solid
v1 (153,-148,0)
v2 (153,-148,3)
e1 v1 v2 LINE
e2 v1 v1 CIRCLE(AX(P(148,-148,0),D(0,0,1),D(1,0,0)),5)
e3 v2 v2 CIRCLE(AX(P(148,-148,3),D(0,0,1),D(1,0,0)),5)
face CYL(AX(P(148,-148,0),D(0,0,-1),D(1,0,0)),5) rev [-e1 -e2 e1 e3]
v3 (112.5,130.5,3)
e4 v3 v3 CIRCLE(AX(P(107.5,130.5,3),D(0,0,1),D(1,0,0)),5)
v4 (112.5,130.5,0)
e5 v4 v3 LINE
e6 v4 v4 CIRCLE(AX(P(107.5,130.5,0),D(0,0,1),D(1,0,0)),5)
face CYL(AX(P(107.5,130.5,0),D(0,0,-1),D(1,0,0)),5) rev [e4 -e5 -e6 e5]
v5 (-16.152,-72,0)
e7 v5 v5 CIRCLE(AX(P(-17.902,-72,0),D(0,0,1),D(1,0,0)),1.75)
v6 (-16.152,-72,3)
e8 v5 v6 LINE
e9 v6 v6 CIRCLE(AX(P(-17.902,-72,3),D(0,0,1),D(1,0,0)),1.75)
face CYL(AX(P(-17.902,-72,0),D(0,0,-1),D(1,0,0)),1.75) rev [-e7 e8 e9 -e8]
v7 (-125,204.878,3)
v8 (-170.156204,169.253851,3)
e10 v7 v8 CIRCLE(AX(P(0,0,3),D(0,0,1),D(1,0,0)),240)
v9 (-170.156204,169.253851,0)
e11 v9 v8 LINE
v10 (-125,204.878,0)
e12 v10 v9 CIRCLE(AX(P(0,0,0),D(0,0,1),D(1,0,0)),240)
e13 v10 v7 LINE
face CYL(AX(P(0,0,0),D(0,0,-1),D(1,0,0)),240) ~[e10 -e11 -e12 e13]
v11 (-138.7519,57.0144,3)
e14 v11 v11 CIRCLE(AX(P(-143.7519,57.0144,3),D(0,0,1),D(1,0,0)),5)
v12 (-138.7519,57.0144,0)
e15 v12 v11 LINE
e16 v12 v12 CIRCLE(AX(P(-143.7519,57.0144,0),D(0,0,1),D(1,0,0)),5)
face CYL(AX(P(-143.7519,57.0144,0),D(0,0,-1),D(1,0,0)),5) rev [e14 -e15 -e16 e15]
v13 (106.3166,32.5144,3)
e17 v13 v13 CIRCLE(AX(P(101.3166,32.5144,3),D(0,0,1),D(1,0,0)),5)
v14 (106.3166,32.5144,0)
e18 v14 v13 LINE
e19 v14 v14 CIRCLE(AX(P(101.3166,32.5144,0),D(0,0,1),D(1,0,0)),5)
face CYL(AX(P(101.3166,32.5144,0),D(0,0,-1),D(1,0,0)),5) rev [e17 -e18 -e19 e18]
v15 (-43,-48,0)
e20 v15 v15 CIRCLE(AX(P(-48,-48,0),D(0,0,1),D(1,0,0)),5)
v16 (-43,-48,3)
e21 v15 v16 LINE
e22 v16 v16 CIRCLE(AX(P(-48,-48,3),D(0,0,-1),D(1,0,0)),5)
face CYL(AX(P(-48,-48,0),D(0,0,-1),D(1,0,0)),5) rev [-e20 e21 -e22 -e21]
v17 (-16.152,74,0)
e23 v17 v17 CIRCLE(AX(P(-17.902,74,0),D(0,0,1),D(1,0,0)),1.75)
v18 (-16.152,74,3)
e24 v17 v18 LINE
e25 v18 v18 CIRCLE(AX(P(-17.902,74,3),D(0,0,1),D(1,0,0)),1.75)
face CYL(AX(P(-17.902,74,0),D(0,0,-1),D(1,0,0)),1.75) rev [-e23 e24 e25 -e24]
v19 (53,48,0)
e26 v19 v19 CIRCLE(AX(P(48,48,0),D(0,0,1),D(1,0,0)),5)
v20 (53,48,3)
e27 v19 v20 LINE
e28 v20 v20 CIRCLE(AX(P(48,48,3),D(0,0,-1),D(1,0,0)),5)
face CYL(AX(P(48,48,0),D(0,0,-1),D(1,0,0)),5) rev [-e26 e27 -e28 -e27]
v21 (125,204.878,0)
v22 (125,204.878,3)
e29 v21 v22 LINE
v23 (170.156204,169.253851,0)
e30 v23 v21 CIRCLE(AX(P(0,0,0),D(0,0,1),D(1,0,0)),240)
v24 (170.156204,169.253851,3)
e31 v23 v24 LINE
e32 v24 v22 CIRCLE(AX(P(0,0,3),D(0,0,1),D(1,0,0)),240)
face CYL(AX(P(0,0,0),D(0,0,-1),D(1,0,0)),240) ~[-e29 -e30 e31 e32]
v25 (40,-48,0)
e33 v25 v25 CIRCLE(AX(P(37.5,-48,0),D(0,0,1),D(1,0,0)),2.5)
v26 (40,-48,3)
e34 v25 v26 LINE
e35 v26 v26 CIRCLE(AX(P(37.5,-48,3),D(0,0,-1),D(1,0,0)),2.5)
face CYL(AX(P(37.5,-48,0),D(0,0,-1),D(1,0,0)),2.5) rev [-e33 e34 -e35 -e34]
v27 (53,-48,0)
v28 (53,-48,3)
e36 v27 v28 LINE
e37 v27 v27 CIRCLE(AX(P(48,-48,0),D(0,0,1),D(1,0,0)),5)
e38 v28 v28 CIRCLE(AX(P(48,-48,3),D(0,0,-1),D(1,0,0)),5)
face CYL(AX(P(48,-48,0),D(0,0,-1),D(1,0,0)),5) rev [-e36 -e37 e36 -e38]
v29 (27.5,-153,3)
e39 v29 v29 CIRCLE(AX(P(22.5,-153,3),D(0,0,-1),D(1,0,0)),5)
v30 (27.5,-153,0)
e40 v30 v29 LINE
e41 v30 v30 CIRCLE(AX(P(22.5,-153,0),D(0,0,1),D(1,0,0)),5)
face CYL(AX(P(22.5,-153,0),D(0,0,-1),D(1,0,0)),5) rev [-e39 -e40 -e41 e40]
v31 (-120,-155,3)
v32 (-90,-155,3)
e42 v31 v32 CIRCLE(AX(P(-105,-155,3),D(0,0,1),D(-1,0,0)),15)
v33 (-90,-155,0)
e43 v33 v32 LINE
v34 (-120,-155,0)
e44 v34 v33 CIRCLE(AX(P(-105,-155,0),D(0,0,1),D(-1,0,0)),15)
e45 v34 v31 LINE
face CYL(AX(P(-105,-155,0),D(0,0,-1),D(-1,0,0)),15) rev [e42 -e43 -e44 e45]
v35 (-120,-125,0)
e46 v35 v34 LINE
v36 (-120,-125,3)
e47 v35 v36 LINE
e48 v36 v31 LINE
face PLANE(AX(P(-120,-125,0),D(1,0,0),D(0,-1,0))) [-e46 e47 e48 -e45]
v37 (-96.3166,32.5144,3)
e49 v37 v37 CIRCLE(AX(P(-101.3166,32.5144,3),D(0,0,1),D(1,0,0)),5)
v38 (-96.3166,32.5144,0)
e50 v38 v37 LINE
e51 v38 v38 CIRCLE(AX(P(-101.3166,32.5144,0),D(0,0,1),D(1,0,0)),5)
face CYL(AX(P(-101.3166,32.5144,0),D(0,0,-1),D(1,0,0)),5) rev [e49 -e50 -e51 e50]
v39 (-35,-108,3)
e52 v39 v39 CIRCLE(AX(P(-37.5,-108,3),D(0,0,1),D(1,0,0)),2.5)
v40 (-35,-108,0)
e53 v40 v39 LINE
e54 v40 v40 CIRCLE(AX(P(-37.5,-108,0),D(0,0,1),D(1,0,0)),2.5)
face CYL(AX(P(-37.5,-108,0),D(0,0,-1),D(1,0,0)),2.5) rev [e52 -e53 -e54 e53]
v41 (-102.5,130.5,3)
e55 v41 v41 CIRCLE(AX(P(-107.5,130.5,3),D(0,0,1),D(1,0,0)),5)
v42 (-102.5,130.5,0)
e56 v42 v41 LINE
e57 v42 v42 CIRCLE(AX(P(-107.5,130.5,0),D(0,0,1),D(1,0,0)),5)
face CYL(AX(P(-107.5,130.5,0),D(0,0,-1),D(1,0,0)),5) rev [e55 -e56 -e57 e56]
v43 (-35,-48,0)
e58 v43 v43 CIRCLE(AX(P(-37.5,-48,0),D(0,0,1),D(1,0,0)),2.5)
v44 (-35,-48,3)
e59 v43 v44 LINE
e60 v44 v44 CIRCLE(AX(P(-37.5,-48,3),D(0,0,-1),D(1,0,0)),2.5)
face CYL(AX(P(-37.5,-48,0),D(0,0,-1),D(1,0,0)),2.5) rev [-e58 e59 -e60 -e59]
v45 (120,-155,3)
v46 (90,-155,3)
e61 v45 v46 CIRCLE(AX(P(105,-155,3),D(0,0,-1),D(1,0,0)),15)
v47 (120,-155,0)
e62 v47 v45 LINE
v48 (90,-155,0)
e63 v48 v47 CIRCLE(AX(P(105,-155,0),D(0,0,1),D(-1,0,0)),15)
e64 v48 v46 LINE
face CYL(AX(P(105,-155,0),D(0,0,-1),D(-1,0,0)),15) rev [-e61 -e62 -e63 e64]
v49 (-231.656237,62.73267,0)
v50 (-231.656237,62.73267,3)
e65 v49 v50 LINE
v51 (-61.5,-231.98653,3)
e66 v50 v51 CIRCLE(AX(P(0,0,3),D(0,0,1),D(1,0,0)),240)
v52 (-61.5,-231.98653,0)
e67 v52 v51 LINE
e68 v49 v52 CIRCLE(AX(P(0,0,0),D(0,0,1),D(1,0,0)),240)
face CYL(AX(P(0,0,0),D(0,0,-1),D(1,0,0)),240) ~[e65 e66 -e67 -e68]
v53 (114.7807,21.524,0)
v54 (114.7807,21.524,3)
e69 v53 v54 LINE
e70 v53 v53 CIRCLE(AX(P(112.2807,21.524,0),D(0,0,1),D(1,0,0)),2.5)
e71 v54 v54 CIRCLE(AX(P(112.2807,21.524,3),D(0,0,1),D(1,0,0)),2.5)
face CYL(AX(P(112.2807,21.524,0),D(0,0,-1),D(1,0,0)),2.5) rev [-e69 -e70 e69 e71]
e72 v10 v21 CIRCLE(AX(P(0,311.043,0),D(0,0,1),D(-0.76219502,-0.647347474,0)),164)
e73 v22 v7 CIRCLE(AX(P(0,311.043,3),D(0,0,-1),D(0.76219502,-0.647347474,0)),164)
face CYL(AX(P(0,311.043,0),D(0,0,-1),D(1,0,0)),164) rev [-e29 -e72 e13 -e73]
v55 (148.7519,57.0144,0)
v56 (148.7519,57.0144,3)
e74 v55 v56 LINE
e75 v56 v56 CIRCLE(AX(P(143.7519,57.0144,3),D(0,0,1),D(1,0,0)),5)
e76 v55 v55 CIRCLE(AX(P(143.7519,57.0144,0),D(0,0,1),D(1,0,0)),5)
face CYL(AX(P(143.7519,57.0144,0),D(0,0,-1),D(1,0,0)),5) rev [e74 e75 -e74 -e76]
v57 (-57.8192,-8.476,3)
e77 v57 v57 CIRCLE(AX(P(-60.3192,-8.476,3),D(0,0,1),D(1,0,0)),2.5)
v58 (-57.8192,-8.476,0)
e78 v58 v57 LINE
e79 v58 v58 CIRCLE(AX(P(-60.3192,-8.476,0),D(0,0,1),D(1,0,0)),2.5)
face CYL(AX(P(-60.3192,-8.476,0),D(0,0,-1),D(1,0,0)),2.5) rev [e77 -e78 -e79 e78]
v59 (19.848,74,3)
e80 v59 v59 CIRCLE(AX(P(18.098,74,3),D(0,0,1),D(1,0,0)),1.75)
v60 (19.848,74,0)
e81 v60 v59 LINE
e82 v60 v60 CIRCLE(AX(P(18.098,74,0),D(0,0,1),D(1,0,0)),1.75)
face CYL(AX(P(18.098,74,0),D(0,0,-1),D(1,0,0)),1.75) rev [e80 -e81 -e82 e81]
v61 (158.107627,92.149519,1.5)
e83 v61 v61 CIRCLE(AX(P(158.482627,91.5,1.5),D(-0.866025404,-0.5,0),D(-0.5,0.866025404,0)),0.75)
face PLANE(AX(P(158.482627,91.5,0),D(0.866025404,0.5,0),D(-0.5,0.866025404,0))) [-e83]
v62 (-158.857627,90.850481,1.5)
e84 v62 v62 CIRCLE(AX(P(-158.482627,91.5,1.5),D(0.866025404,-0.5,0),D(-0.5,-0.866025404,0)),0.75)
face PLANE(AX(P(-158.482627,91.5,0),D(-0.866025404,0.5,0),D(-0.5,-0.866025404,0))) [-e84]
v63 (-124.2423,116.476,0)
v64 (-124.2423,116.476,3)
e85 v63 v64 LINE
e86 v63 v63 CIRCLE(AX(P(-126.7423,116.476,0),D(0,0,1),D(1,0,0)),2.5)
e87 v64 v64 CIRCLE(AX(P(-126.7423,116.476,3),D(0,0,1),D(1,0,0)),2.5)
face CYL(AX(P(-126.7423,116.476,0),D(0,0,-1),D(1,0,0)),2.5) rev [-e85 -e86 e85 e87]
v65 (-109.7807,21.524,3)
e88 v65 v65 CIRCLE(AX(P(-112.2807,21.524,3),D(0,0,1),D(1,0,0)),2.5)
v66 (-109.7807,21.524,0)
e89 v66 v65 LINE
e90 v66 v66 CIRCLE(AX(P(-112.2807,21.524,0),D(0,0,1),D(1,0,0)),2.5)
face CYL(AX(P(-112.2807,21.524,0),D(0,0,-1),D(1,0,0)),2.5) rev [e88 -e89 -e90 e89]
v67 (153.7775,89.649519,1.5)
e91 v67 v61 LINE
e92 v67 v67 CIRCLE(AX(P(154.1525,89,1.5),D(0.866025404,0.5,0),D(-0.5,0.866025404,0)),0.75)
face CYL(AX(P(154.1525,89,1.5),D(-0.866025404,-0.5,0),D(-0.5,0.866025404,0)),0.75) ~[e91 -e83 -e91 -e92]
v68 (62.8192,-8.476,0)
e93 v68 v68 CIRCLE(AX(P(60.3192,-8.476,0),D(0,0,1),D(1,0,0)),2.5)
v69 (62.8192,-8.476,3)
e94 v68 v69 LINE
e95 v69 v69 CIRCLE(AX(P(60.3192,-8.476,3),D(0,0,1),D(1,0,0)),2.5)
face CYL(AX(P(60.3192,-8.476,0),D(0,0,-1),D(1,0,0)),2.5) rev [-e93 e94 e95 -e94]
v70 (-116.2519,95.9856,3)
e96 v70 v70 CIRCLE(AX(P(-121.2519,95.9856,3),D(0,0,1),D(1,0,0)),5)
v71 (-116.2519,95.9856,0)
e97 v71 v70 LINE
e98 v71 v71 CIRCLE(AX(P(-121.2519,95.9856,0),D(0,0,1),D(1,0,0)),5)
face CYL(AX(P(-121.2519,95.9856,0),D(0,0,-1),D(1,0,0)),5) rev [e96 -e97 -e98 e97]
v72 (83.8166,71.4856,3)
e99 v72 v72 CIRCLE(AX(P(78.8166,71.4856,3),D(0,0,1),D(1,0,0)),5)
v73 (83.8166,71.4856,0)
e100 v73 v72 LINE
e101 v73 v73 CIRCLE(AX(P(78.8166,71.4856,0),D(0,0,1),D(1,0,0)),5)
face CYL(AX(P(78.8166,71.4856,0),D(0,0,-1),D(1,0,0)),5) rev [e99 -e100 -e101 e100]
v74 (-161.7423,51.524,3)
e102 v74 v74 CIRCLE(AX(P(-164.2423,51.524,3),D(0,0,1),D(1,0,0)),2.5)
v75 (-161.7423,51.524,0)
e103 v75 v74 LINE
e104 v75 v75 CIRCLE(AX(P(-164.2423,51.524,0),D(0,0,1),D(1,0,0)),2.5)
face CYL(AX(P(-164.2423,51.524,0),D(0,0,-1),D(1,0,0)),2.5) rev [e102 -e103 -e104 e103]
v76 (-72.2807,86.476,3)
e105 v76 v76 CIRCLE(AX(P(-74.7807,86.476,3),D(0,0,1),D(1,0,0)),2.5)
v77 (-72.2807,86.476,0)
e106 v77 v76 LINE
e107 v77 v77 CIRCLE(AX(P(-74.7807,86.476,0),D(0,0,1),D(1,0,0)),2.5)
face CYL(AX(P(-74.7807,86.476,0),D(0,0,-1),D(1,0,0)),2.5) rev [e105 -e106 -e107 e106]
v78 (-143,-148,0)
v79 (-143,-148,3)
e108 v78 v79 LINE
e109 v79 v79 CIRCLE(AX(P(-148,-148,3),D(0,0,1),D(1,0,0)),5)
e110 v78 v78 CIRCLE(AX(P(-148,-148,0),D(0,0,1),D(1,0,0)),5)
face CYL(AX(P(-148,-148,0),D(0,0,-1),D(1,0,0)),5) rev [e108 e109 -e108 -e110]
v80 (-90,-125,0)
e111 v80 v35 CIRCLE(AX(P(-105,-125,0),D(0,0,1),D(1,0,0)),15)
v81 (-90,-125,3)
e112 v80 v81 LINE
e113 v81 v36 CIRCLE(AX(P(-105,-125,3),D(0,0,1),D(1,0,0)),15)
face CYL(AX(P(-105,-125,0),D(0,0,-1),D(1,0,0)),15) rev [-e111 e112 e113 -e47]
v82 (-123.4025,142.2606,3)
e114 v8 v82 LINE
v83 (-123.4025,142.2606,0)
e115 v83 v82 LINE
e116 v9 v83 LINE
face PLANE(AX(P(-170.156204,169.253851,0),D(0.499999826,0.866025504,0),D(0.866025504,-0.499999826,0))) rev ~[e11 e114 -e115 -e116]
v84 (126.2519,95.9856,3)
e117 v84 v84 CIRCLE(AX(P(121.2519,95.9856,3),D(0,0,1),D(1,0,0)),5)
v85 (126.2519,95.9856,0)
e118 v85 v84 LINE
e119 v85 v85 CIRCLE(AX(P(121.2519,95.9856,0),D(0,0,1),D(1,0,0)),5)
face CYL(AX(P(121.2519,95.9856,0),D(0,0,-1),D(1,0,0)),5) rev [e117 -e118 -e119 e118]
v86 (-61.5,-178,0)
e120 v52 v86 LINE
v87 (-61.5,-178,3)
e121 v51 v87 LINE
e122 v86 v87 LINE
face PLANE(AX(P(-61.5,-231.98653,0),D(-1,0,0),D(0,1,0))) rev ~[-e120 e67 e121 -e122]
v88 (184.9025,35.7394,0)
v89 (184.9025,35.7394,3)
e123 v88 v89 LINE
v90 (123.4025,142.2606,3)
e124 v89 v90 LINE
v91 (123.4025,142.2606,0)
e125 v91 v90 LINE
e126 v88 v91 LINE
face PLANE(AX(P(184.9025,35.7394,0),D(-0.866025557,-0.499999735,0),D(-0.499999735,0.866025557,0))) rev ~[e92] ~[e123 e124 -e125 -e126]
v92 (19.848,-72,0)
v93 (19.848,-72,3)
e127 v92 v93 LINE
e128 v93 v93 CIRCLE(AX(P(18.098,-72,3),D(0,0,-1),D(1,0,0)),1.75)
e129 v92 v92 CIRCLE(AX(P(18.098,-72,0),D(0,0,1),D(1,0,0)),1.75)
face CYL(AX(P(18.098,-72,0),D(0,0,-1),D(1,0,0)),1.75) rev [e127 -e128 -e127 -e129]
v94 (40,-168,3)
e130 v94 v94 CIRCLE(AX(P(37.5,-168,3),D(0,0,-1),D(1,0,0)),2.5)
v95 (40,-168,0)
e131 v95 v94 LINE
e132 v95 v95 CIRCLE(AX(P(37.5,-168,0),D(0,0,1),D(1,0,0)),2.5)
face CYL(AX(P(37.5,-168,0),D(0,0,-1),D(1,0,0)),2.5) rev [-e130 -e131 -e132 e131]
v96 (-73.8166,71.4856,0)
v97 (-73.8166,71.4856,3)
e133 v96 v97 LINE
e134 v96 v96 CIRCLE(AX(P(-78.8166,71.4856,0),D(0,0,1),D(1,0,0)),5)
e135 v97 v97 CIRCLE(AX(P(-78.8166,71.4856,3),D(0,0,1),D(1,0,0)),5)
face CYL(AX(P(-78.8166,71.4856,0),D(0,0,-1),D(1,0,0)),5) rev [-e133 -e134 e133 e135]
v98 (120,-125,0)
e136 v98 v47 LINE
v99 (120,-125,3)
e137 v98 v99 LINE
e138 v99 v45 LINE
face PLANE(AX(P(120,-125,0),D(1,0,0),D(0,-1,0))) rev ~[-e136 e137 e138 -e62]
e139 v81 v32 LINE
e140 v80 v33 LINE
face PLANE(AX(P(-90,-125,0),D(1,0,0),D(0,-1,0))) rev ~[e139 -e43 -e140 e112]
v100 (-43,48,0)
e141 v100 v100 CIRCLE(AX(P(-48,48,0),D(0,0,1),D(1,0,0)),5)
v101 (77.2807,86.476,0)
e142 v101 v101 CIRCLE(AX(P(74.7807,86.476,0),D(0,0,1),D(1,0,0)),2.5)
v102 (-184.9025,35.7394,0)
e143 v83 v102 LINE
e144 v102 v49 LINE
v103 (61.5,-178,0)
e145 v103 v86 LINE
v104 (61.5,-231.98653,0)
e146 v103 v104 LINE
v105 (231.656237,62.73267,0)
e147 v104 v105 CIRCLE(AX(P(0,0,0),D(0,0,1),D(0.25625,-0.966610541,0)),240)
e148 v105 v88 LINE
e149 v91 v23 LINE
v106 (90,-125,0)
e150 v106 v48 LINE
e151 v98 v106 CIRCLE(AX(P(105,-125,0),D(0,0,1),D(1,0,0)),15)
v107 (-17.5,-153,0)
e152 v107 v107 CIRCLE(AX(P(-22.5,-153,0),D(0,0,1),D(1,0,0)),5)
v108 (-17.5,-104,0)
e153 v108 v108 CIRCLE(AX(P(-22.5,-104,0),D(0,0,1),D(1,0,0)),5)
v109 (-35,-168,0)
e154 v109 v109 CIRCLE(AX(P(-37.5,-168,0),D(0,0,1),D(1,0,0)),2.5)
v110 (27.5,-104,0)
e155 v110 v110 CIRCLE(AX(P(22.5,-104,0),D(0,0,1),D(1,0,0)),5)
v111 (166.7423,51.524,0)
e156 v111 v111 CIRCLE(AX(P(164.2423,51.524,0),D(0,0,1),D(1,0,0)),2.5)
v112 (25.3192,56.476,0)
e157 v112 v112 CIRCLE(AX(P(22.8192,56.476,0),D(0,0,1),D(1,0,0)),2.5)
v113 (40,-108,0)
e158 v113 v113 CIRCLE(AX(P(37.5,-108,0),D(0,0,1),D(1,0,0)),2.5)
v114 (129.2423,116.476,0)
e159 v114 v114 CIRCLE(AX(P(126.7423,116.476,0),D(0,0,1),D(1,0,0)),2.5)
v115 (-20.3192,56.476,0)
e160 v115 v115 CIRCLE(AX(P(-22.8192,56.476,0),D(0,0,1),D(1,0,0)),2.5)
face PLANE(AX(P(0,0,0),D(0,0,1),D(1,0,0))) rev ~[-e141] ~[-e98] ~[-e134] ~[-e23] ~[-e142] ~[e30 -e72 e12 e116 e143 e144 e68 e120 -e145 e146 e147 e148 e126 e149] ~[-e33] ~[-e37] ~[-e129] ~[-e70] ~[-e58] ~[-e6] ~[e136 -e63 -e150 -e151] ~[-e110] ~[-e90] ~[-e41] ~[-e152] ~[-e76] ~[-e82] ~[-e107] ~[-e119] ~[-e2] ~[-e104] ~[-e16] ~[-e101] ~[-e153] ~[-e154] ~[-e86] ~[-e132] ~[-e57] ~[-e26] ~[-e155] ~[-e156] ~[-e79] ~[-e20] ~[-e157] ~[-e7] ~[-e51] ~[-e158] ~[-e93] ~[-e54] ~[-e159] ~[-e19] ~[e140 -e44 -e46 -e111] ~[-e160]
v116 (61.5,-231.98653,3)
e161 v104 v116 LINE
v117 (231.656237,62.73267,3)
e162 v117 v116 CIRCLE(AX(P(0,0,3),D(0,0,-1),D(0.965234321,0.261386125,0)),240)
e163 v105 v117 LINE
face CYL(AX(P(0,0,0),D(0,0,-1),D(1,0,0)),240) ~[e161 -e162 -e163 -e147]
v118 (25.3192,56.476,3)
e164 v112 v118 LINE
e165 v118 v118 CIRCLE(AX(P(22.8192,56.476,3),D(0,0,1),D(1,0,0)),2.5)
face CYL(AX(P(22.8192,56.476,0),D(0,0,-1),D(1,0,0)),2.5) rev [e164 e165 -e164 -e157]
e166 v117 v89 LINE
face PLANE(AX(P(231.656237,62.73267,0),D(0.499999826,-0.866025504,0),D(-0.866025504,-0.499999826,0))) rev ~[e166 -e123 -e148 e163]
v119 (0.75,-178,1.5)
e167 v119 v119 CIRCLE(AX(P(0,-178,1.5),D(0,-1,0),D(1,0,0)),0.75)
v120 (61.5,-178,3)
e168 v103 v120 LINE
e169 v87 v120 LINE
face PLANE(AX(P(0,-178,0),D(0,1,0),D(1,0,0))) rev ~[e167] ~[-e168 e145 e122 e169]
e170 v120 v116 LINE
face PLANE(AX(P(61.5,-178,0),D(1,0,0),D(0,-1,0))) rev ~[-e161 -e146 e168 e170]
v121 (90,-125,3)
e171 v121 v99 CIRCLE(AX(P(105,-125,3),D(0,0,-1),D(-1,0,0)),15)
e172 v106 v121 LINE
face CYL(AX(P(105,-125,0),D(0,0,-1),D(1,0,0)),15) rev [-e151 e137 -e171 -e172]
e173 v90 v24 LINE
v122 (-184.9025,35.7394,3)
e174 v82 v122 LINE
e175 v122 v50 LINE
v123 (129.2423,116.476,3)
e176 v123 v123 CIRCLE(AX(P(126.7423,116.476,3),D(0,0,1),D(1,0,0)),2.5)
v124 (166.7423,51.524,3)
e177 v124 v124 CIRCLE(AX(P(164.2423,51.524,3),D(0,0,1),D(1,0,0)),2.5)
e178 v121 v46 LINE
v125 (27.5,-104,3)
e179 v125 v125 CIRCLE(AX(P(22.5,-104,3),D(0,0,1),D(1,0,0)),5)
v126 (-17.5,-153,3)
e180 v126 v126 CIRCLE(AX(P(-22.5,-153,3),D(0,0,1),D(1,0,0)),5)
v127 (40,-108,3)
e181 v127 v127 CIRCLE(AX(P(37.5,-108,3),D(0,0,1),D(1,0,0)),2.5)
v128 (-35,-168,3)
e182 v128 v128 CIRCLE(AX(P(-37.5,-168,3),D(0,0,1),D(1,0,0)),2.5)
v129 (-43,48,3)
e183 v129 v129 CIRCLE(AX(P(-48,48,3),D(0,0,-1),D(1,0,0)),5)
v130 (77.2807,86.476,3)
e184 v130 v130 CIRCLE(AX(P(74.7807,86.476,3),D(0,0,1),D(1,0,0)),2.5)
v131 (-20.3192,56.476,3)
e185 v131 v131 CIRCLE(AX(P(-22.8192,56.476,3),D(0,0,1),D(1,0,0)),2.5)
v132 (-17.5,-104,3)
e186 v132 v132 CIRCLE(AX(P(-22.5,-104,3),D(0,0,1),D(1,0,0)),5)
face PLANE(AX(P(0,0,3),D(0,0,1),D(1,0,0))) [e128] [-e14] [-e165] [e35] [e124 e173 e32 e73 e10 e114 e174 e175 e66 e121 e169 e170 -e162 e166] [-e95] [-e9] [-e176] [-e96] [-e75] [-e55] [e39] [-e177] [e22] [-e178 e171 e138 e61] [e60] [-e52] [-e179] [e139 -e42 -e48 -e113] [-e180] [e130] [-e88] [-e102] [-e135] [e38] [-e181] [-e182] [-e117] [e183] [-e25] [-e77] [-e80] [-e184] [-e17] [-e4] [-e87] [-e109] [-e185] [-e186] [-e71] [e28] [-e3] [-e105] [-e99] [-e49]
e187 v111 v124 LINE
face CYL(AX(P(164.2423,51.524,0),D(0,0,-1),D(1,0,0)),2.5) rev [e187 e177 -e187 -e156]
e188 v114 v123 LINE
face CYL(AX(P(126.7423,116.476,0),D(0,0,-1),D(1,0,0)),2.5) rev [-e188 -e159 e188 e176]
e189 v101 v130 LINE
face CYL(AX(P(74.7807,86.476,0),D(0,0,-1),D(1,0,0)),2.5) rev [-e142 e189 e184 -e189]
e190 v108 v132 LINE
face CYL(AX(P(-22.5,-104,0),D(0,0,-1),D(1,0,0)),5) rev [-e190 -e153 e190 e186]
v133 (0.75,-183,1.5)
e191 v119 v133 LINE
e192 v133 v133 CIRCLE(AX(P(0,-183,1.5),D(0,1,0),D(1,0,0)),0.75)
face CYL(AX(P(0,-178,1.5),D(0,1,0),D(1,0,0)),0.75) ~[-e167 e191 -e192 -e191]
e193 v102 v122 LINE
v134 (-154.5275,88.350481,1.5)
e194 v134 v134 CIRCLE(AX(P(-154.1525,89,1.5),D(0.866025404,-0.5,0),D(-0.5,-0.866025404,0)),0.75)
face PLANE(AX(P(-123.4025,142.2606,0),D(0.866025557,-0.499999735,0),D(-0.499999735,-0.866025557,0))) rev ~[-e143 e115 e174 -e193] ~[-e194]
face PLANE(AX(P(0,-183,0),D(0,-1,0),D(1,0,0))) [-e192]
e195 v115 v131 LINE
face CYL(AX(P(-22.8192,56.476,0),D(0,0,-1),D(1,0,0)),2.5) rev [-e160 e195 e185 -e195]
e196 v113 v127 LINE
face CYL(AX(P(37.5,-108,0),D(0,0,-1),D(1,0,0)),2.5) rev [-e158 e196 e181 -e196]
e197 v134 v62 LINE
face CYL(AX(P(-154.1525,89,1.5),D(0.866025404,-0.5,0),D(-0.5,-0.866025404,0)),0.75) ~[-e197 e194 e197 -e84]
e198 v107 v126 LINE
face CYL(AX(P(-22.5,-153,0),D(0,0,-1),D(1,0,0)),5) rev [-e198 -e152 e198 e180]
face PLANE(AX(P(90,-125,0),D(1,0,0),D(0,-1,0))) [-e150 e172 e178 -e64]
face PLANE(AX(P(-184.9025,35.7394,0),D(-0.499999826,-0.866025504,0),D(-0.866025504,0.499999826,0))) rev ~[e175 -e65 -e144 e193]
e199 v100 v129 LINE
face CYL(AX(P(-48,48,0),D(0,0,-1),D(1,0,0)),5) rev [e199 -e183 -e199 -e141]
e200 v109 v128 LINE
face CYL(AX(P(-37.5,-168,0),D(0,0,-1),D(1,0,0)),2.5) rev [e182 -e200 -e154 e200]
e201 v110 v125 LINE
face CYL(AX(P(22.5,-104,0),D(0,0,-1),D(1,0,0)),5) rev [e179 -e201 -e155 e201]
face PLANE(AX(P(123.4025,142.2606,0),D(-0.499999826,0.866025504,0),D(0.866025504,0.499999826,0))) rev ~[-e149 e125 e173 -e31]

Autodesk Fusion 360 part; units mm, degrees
sketch "Esboço1" plane through (0, 0, 0) normal (0, 0, 1) x (1, 0, 0)
  circle A0 centre (0, 0) radius 240
  line L0 (48, -48) -> (-48, -48)
  line L1 (-48, -48) -> (-48, 48)
  line L2 (-48, 48) -> (48, 48)
  line L3 (48, 48) -> (48, -48)
  line L4 (48, -48) -> (-48, 48) construction
  line L5 (-48, -48) -> (48, 48) construction
  circle A1 centre (-48, 48) radius 5
  circle A2 centre (-48, -48) radius 5
  circle A3 centre (48, 48) radius 5
  circle A4 centre (48, -48) radius 5
  line L6 (105, -110) -> (105, -170)
  line L7 (90, -125) -> (90, -155)
  line L8 (120, -125) -> (120, -155)
  arc A5 (120, -125) -> (90, -125) centre (105, -125) ccw
  arc A6 (90, -155) -> (120, -155) centre (105, -155) ccw
  circle A7 centre (148, -148) radius 5
  line L9 (-125, 204.878) -> (125, 204.878)
  circle A8 centre (0, 311.043) radius 164
  circle A9 centre (107.5, 130.5) radius 5
  line L10 (-40, 115) -> (40, 115)
  line L11 (-40, 115) -> (-40, 151.9958)
  line L12 (40, 115) -> (40, 151.9958)
  line L13 (0, 1.75) -> (0, 22.5)
  line L14 (-120, -125) -> (-120, -155)
  arc A10 (-90, -125) -> (-120, -125) centre (-105, -125) ccw
  line L15 (-90, -125) -> (-90, -155)
  arc A11 (-120, -155) -> (-90, -155) centre (-105, -155) ccw
  circle A12 centre (-148, -148) radius 5
  circle A13 centre (-107.5, 130.5) radius 5
  line L16 (-61.5, -178) -> (61.5, -178)
  line L17 (61.5, -178) -> (61.5, -240)
  line L18 (61.5, -240) -> (-61.5, -240)
  line L19 (-61.5, -240) -> (-61.5, -178)
  line L20 (0, -178) -> (0, -168)
  line L21 (-37.5, -168) -> (37.5, -168)
  circle A14 centre (-37.5, -168) radius 2.5
  circle A15 centre (37.5, -168) radius 2.5
  circle A16 centre (37.5, -108) radius 2.5
  circle A17 centre (37.5, -48) radius 2.5
  circle A18 centre (-37.5, -108) radius 2.5
  circle A19 centre (-37.5, -48) radius 2.5
  circle A20 centre (126.7423, 116.476) radius 2.5
  line L22 (238.5961, 66.7394) -> (184.9025, 35.7394)
  line L23 (184.9025, 35.7394) -> (123.4025, 142.2606)
  line L24 (123.4025, 142.2606) -> (177.0961, 173.2606)
  circle A21 centre (74.7807, 86.476) radius 2.5
  circle A22 centre (164.2423, 51.524) radius 2.5
  circle A23 centre (112.2807, 21.524) radius 2.5
  circle A24 centre (60.3192, -8.476) radius 2.5
  circle A25 centre (22.8192, 56.476) radius 2.5
  circle A26 centre (-164.2423, 51.524) radius 2.5
  line L25 (-177.0961, 173.2606) -> (-123.4025, 142.2606)
  line L26 (-123.4025, 142.2606) -> (-184.9025, 35.7394)
  line L27 (-184.9025, 35.7394) -> (-238.5961, 66.7394)
  circle A27 centre (-112.2807, 21.524) radius 2.5
  circle A28 centre (-126.7423, 116.476) radius 2.5
  circle A29 centre (-74.7807, 86.476) radius 2.5
  circle A30 centre (-22.8192, 56.476) radius 2.5
  circle A31 centre (-60.3192, -8.476) radius 2.5
  line L28 (0, -178) -> (0, -153)
  line L29 (-22.5, -153) -> (22.5, -153)
  circle A32 centre (-22.5, -153) radius 5
  circle A33 centre (22.5, -153) radius 5
  circle A34 centre (-22.5, -104) radius 5
  circle A35 centre (22.5, -104) radius 5
  circle A36 centre (143.7519, 57.0144) radius 5
  circle A37 centre (101.3166, 32.5144) radius 5
  circle A38 centre (78.8166, 71.4856) radius 5
  circle A39 centre (121.2519, 95.9856) radius 5
  circle A40 centre (-121.2519, 95.9856) radius 5
  circle A41 centre (-78.8166, 71.4856) radius 5
  circle A42 centre (-101.3166, 32.5144) radius 5
  circle A43 centre (-143.7519, 57.0144) radius 5
  line L30 (-17.902, -72) -> (18.098, -72)
  circle A44 centre (-17.902, -72) radius 1.75
  circle A45 centre (18.098, -72) radius 1.75
  line L31 (0, 311.043) -> (0, 115)
  circle A46 centre (-17.902, 74) radius 1.75
  circle A47 centre (18.098, 74) radius 1.75
  point P0 (105, -110)
  point P1 (0, 115)
  point P2 (0, -240)
  point P3 (-61.5, -231.9865)
  point P4 (-170.1562, 169.2538)
  point P5 (170.1562, 169.2538)
  point P6 (0.098, -72)
  dimension "d1" = 480
  dimension "d2" = 96
  dimension "d3" = 96
  dimension "d4" = 10
  dimension "d5" = 10
  dimension "d6" = 10
  dimension "d7" = 10
  dimension "d8" = 110
  dimension "d9" = 105
  dimension "d10" = 30
  dimension "d11" = 60
  dimension "d12" = 30
  dimension "d13" = 10
  dimension "d14" = 148
  dimension "d15" = 148
  dimension "d16" = 250
  dimension "d17" = 328
  dimension "d18" = 10
  dimension "d19" = 130.5
  dimension "d20" = 107.5
  dimension "d21" = 115
  dimension "d22" = 80
  dimension "d25" = 123
  dimension "d26" = 62
  dimension "d27" = 10
  dimension "d28" = 75
  dimension "d29" = 5
  dimension "d30" = 5
  dimension "d33" = 1
  dimension "d34" = 60
  dimension "d36" = 360
  dimension "d37" = 25
  dimension "d38" = 45
  dimension "d39" = 10
  dimension "d40" = 10
  dimension "d43" = 0
  dimension "d44" = 49
  dimension "d45" = 36
  dimension "d46" = 3.5
  dimension "d47" = 3.5
  dimension "d51" = 0
  dimension "d52" = 146
  dimension "d53" = 32
extrude "Extrusão1" add sketch "Esboço1" along normal blind 3 contours A0 A8 L10 L11 L12 L16 L17 L19 L22 L23 L24 L25 L26 L27 | A8 L10 L12 L31 | A8 L10 L11 L31 | L0 L1 L2 L3 A1 A2 A3 A4 A17 A19
sketch "Esboço2" plane through (0, -178, 0) normal (0, -1, 0) x (1, 0, 0)
  line L0 (-61.5, 0) -> (61.5, 0)
  line L1 (61.5, 0) -> (61.5, 3)
  line L2 (61.5, 3) -> (-61.5, 3)
  line L3 (-61.5, 3) -> (-61.5, 0)
  line L4 (-61.5, 3) -> (61.5, 3)
  line L5 (61.5, 3) -> (61.5, 0)
  line L6 (61.5, 0) -> (-61.5, 0)
  line L7 (-61.5, 0) -> (-61.5, 3)
  line L8 (0, 3) -> (0, 0)
  line L9 (-61.5, 1.5) -> (61.5, 1.5)
  circle A0 centre (0, 1.5) radius 0.75
  dimension "d54" = 1.5
sketch "Esboço3" plane through (154.1525, 89, 0) normal (0.866025, 0.5, 0) x (-0.5, 0.866025, 0)
  line L0 (-61.5, 0) -> (61.5, 0)
  line L1 (61.5, 0) -> (61.5, 3)
  line L2 (61.5, 3) -> (-61.5, 3)
  line L3 (-61.5, 3) -> (-61.5, 0)
  line L4 (-61.5, 3) -> (61.5, 3)
  line L5 (61.5, 3) -> (61.5, 0)
  line L6 (61.5, 0) -> (-61.5, 0)
  line L7 (-61.5, 0) -> (-61.5, 3)
  line L8 (-61.5, 1.5) -> (61.5, 1.5)
  line L9 (0, 3) -> (0, 0)
  circle A0 centre (0, 1.5) radius 0.75
  dimension "d55" = 1.5
sketch "Esboço4" plane through (-154.1525, 89, 0) normal (-0.866025, 0.5, 0) x (-0.5, -0.866025, 0)
  line L0 (-61.5, 0) -> (61.5, 0)
  line L1 (61.5, 0) -> (61.5, 3)
  line L2 (61.5, 3) -> (-61.5, 3)
  line L3 (-61.5, 3) -> (-61.5, 0)
  line L4 (-61.5, 3) -> (61.5, 3)
  line L5 (61.5, 3) -> (61.5, 0)
  line L6 (61.5, 0) -> (-61.5, 0)
  line L7 (-61.5, 0) -> (-61.5, 3)
  line L8 (0, 3) -> (0, 0)
  line L9 (-61.5, 1.5) -> (61.5, 1.5)
  circle A0 centre (0, 1.5) radius 0.75
  dimension "d56" = 1.5
extrude "Extrusão2" add sketch "Esboço4" along normal blind 5 contours L8 L9 A0 | L8 L9 A0 | L8 L9 A0 | L8 L9 A0
extrude "Extrusão3" add sketch "Esboço2" along normal blind 5 contours L8 L9 A0 | L8 L9 A0 | L8 L9 A0 | L8 L9 A0
extrude "Extrusão4" add sketch "Esboço3" along normal blind 5 contours L8 L9 A0 | L8 L9 A0 | L8 L9 A0 | L8 L9 A0
equation "d12 = d10"
equation "d17 = ( 164 * 2 ) * 1 mm"
